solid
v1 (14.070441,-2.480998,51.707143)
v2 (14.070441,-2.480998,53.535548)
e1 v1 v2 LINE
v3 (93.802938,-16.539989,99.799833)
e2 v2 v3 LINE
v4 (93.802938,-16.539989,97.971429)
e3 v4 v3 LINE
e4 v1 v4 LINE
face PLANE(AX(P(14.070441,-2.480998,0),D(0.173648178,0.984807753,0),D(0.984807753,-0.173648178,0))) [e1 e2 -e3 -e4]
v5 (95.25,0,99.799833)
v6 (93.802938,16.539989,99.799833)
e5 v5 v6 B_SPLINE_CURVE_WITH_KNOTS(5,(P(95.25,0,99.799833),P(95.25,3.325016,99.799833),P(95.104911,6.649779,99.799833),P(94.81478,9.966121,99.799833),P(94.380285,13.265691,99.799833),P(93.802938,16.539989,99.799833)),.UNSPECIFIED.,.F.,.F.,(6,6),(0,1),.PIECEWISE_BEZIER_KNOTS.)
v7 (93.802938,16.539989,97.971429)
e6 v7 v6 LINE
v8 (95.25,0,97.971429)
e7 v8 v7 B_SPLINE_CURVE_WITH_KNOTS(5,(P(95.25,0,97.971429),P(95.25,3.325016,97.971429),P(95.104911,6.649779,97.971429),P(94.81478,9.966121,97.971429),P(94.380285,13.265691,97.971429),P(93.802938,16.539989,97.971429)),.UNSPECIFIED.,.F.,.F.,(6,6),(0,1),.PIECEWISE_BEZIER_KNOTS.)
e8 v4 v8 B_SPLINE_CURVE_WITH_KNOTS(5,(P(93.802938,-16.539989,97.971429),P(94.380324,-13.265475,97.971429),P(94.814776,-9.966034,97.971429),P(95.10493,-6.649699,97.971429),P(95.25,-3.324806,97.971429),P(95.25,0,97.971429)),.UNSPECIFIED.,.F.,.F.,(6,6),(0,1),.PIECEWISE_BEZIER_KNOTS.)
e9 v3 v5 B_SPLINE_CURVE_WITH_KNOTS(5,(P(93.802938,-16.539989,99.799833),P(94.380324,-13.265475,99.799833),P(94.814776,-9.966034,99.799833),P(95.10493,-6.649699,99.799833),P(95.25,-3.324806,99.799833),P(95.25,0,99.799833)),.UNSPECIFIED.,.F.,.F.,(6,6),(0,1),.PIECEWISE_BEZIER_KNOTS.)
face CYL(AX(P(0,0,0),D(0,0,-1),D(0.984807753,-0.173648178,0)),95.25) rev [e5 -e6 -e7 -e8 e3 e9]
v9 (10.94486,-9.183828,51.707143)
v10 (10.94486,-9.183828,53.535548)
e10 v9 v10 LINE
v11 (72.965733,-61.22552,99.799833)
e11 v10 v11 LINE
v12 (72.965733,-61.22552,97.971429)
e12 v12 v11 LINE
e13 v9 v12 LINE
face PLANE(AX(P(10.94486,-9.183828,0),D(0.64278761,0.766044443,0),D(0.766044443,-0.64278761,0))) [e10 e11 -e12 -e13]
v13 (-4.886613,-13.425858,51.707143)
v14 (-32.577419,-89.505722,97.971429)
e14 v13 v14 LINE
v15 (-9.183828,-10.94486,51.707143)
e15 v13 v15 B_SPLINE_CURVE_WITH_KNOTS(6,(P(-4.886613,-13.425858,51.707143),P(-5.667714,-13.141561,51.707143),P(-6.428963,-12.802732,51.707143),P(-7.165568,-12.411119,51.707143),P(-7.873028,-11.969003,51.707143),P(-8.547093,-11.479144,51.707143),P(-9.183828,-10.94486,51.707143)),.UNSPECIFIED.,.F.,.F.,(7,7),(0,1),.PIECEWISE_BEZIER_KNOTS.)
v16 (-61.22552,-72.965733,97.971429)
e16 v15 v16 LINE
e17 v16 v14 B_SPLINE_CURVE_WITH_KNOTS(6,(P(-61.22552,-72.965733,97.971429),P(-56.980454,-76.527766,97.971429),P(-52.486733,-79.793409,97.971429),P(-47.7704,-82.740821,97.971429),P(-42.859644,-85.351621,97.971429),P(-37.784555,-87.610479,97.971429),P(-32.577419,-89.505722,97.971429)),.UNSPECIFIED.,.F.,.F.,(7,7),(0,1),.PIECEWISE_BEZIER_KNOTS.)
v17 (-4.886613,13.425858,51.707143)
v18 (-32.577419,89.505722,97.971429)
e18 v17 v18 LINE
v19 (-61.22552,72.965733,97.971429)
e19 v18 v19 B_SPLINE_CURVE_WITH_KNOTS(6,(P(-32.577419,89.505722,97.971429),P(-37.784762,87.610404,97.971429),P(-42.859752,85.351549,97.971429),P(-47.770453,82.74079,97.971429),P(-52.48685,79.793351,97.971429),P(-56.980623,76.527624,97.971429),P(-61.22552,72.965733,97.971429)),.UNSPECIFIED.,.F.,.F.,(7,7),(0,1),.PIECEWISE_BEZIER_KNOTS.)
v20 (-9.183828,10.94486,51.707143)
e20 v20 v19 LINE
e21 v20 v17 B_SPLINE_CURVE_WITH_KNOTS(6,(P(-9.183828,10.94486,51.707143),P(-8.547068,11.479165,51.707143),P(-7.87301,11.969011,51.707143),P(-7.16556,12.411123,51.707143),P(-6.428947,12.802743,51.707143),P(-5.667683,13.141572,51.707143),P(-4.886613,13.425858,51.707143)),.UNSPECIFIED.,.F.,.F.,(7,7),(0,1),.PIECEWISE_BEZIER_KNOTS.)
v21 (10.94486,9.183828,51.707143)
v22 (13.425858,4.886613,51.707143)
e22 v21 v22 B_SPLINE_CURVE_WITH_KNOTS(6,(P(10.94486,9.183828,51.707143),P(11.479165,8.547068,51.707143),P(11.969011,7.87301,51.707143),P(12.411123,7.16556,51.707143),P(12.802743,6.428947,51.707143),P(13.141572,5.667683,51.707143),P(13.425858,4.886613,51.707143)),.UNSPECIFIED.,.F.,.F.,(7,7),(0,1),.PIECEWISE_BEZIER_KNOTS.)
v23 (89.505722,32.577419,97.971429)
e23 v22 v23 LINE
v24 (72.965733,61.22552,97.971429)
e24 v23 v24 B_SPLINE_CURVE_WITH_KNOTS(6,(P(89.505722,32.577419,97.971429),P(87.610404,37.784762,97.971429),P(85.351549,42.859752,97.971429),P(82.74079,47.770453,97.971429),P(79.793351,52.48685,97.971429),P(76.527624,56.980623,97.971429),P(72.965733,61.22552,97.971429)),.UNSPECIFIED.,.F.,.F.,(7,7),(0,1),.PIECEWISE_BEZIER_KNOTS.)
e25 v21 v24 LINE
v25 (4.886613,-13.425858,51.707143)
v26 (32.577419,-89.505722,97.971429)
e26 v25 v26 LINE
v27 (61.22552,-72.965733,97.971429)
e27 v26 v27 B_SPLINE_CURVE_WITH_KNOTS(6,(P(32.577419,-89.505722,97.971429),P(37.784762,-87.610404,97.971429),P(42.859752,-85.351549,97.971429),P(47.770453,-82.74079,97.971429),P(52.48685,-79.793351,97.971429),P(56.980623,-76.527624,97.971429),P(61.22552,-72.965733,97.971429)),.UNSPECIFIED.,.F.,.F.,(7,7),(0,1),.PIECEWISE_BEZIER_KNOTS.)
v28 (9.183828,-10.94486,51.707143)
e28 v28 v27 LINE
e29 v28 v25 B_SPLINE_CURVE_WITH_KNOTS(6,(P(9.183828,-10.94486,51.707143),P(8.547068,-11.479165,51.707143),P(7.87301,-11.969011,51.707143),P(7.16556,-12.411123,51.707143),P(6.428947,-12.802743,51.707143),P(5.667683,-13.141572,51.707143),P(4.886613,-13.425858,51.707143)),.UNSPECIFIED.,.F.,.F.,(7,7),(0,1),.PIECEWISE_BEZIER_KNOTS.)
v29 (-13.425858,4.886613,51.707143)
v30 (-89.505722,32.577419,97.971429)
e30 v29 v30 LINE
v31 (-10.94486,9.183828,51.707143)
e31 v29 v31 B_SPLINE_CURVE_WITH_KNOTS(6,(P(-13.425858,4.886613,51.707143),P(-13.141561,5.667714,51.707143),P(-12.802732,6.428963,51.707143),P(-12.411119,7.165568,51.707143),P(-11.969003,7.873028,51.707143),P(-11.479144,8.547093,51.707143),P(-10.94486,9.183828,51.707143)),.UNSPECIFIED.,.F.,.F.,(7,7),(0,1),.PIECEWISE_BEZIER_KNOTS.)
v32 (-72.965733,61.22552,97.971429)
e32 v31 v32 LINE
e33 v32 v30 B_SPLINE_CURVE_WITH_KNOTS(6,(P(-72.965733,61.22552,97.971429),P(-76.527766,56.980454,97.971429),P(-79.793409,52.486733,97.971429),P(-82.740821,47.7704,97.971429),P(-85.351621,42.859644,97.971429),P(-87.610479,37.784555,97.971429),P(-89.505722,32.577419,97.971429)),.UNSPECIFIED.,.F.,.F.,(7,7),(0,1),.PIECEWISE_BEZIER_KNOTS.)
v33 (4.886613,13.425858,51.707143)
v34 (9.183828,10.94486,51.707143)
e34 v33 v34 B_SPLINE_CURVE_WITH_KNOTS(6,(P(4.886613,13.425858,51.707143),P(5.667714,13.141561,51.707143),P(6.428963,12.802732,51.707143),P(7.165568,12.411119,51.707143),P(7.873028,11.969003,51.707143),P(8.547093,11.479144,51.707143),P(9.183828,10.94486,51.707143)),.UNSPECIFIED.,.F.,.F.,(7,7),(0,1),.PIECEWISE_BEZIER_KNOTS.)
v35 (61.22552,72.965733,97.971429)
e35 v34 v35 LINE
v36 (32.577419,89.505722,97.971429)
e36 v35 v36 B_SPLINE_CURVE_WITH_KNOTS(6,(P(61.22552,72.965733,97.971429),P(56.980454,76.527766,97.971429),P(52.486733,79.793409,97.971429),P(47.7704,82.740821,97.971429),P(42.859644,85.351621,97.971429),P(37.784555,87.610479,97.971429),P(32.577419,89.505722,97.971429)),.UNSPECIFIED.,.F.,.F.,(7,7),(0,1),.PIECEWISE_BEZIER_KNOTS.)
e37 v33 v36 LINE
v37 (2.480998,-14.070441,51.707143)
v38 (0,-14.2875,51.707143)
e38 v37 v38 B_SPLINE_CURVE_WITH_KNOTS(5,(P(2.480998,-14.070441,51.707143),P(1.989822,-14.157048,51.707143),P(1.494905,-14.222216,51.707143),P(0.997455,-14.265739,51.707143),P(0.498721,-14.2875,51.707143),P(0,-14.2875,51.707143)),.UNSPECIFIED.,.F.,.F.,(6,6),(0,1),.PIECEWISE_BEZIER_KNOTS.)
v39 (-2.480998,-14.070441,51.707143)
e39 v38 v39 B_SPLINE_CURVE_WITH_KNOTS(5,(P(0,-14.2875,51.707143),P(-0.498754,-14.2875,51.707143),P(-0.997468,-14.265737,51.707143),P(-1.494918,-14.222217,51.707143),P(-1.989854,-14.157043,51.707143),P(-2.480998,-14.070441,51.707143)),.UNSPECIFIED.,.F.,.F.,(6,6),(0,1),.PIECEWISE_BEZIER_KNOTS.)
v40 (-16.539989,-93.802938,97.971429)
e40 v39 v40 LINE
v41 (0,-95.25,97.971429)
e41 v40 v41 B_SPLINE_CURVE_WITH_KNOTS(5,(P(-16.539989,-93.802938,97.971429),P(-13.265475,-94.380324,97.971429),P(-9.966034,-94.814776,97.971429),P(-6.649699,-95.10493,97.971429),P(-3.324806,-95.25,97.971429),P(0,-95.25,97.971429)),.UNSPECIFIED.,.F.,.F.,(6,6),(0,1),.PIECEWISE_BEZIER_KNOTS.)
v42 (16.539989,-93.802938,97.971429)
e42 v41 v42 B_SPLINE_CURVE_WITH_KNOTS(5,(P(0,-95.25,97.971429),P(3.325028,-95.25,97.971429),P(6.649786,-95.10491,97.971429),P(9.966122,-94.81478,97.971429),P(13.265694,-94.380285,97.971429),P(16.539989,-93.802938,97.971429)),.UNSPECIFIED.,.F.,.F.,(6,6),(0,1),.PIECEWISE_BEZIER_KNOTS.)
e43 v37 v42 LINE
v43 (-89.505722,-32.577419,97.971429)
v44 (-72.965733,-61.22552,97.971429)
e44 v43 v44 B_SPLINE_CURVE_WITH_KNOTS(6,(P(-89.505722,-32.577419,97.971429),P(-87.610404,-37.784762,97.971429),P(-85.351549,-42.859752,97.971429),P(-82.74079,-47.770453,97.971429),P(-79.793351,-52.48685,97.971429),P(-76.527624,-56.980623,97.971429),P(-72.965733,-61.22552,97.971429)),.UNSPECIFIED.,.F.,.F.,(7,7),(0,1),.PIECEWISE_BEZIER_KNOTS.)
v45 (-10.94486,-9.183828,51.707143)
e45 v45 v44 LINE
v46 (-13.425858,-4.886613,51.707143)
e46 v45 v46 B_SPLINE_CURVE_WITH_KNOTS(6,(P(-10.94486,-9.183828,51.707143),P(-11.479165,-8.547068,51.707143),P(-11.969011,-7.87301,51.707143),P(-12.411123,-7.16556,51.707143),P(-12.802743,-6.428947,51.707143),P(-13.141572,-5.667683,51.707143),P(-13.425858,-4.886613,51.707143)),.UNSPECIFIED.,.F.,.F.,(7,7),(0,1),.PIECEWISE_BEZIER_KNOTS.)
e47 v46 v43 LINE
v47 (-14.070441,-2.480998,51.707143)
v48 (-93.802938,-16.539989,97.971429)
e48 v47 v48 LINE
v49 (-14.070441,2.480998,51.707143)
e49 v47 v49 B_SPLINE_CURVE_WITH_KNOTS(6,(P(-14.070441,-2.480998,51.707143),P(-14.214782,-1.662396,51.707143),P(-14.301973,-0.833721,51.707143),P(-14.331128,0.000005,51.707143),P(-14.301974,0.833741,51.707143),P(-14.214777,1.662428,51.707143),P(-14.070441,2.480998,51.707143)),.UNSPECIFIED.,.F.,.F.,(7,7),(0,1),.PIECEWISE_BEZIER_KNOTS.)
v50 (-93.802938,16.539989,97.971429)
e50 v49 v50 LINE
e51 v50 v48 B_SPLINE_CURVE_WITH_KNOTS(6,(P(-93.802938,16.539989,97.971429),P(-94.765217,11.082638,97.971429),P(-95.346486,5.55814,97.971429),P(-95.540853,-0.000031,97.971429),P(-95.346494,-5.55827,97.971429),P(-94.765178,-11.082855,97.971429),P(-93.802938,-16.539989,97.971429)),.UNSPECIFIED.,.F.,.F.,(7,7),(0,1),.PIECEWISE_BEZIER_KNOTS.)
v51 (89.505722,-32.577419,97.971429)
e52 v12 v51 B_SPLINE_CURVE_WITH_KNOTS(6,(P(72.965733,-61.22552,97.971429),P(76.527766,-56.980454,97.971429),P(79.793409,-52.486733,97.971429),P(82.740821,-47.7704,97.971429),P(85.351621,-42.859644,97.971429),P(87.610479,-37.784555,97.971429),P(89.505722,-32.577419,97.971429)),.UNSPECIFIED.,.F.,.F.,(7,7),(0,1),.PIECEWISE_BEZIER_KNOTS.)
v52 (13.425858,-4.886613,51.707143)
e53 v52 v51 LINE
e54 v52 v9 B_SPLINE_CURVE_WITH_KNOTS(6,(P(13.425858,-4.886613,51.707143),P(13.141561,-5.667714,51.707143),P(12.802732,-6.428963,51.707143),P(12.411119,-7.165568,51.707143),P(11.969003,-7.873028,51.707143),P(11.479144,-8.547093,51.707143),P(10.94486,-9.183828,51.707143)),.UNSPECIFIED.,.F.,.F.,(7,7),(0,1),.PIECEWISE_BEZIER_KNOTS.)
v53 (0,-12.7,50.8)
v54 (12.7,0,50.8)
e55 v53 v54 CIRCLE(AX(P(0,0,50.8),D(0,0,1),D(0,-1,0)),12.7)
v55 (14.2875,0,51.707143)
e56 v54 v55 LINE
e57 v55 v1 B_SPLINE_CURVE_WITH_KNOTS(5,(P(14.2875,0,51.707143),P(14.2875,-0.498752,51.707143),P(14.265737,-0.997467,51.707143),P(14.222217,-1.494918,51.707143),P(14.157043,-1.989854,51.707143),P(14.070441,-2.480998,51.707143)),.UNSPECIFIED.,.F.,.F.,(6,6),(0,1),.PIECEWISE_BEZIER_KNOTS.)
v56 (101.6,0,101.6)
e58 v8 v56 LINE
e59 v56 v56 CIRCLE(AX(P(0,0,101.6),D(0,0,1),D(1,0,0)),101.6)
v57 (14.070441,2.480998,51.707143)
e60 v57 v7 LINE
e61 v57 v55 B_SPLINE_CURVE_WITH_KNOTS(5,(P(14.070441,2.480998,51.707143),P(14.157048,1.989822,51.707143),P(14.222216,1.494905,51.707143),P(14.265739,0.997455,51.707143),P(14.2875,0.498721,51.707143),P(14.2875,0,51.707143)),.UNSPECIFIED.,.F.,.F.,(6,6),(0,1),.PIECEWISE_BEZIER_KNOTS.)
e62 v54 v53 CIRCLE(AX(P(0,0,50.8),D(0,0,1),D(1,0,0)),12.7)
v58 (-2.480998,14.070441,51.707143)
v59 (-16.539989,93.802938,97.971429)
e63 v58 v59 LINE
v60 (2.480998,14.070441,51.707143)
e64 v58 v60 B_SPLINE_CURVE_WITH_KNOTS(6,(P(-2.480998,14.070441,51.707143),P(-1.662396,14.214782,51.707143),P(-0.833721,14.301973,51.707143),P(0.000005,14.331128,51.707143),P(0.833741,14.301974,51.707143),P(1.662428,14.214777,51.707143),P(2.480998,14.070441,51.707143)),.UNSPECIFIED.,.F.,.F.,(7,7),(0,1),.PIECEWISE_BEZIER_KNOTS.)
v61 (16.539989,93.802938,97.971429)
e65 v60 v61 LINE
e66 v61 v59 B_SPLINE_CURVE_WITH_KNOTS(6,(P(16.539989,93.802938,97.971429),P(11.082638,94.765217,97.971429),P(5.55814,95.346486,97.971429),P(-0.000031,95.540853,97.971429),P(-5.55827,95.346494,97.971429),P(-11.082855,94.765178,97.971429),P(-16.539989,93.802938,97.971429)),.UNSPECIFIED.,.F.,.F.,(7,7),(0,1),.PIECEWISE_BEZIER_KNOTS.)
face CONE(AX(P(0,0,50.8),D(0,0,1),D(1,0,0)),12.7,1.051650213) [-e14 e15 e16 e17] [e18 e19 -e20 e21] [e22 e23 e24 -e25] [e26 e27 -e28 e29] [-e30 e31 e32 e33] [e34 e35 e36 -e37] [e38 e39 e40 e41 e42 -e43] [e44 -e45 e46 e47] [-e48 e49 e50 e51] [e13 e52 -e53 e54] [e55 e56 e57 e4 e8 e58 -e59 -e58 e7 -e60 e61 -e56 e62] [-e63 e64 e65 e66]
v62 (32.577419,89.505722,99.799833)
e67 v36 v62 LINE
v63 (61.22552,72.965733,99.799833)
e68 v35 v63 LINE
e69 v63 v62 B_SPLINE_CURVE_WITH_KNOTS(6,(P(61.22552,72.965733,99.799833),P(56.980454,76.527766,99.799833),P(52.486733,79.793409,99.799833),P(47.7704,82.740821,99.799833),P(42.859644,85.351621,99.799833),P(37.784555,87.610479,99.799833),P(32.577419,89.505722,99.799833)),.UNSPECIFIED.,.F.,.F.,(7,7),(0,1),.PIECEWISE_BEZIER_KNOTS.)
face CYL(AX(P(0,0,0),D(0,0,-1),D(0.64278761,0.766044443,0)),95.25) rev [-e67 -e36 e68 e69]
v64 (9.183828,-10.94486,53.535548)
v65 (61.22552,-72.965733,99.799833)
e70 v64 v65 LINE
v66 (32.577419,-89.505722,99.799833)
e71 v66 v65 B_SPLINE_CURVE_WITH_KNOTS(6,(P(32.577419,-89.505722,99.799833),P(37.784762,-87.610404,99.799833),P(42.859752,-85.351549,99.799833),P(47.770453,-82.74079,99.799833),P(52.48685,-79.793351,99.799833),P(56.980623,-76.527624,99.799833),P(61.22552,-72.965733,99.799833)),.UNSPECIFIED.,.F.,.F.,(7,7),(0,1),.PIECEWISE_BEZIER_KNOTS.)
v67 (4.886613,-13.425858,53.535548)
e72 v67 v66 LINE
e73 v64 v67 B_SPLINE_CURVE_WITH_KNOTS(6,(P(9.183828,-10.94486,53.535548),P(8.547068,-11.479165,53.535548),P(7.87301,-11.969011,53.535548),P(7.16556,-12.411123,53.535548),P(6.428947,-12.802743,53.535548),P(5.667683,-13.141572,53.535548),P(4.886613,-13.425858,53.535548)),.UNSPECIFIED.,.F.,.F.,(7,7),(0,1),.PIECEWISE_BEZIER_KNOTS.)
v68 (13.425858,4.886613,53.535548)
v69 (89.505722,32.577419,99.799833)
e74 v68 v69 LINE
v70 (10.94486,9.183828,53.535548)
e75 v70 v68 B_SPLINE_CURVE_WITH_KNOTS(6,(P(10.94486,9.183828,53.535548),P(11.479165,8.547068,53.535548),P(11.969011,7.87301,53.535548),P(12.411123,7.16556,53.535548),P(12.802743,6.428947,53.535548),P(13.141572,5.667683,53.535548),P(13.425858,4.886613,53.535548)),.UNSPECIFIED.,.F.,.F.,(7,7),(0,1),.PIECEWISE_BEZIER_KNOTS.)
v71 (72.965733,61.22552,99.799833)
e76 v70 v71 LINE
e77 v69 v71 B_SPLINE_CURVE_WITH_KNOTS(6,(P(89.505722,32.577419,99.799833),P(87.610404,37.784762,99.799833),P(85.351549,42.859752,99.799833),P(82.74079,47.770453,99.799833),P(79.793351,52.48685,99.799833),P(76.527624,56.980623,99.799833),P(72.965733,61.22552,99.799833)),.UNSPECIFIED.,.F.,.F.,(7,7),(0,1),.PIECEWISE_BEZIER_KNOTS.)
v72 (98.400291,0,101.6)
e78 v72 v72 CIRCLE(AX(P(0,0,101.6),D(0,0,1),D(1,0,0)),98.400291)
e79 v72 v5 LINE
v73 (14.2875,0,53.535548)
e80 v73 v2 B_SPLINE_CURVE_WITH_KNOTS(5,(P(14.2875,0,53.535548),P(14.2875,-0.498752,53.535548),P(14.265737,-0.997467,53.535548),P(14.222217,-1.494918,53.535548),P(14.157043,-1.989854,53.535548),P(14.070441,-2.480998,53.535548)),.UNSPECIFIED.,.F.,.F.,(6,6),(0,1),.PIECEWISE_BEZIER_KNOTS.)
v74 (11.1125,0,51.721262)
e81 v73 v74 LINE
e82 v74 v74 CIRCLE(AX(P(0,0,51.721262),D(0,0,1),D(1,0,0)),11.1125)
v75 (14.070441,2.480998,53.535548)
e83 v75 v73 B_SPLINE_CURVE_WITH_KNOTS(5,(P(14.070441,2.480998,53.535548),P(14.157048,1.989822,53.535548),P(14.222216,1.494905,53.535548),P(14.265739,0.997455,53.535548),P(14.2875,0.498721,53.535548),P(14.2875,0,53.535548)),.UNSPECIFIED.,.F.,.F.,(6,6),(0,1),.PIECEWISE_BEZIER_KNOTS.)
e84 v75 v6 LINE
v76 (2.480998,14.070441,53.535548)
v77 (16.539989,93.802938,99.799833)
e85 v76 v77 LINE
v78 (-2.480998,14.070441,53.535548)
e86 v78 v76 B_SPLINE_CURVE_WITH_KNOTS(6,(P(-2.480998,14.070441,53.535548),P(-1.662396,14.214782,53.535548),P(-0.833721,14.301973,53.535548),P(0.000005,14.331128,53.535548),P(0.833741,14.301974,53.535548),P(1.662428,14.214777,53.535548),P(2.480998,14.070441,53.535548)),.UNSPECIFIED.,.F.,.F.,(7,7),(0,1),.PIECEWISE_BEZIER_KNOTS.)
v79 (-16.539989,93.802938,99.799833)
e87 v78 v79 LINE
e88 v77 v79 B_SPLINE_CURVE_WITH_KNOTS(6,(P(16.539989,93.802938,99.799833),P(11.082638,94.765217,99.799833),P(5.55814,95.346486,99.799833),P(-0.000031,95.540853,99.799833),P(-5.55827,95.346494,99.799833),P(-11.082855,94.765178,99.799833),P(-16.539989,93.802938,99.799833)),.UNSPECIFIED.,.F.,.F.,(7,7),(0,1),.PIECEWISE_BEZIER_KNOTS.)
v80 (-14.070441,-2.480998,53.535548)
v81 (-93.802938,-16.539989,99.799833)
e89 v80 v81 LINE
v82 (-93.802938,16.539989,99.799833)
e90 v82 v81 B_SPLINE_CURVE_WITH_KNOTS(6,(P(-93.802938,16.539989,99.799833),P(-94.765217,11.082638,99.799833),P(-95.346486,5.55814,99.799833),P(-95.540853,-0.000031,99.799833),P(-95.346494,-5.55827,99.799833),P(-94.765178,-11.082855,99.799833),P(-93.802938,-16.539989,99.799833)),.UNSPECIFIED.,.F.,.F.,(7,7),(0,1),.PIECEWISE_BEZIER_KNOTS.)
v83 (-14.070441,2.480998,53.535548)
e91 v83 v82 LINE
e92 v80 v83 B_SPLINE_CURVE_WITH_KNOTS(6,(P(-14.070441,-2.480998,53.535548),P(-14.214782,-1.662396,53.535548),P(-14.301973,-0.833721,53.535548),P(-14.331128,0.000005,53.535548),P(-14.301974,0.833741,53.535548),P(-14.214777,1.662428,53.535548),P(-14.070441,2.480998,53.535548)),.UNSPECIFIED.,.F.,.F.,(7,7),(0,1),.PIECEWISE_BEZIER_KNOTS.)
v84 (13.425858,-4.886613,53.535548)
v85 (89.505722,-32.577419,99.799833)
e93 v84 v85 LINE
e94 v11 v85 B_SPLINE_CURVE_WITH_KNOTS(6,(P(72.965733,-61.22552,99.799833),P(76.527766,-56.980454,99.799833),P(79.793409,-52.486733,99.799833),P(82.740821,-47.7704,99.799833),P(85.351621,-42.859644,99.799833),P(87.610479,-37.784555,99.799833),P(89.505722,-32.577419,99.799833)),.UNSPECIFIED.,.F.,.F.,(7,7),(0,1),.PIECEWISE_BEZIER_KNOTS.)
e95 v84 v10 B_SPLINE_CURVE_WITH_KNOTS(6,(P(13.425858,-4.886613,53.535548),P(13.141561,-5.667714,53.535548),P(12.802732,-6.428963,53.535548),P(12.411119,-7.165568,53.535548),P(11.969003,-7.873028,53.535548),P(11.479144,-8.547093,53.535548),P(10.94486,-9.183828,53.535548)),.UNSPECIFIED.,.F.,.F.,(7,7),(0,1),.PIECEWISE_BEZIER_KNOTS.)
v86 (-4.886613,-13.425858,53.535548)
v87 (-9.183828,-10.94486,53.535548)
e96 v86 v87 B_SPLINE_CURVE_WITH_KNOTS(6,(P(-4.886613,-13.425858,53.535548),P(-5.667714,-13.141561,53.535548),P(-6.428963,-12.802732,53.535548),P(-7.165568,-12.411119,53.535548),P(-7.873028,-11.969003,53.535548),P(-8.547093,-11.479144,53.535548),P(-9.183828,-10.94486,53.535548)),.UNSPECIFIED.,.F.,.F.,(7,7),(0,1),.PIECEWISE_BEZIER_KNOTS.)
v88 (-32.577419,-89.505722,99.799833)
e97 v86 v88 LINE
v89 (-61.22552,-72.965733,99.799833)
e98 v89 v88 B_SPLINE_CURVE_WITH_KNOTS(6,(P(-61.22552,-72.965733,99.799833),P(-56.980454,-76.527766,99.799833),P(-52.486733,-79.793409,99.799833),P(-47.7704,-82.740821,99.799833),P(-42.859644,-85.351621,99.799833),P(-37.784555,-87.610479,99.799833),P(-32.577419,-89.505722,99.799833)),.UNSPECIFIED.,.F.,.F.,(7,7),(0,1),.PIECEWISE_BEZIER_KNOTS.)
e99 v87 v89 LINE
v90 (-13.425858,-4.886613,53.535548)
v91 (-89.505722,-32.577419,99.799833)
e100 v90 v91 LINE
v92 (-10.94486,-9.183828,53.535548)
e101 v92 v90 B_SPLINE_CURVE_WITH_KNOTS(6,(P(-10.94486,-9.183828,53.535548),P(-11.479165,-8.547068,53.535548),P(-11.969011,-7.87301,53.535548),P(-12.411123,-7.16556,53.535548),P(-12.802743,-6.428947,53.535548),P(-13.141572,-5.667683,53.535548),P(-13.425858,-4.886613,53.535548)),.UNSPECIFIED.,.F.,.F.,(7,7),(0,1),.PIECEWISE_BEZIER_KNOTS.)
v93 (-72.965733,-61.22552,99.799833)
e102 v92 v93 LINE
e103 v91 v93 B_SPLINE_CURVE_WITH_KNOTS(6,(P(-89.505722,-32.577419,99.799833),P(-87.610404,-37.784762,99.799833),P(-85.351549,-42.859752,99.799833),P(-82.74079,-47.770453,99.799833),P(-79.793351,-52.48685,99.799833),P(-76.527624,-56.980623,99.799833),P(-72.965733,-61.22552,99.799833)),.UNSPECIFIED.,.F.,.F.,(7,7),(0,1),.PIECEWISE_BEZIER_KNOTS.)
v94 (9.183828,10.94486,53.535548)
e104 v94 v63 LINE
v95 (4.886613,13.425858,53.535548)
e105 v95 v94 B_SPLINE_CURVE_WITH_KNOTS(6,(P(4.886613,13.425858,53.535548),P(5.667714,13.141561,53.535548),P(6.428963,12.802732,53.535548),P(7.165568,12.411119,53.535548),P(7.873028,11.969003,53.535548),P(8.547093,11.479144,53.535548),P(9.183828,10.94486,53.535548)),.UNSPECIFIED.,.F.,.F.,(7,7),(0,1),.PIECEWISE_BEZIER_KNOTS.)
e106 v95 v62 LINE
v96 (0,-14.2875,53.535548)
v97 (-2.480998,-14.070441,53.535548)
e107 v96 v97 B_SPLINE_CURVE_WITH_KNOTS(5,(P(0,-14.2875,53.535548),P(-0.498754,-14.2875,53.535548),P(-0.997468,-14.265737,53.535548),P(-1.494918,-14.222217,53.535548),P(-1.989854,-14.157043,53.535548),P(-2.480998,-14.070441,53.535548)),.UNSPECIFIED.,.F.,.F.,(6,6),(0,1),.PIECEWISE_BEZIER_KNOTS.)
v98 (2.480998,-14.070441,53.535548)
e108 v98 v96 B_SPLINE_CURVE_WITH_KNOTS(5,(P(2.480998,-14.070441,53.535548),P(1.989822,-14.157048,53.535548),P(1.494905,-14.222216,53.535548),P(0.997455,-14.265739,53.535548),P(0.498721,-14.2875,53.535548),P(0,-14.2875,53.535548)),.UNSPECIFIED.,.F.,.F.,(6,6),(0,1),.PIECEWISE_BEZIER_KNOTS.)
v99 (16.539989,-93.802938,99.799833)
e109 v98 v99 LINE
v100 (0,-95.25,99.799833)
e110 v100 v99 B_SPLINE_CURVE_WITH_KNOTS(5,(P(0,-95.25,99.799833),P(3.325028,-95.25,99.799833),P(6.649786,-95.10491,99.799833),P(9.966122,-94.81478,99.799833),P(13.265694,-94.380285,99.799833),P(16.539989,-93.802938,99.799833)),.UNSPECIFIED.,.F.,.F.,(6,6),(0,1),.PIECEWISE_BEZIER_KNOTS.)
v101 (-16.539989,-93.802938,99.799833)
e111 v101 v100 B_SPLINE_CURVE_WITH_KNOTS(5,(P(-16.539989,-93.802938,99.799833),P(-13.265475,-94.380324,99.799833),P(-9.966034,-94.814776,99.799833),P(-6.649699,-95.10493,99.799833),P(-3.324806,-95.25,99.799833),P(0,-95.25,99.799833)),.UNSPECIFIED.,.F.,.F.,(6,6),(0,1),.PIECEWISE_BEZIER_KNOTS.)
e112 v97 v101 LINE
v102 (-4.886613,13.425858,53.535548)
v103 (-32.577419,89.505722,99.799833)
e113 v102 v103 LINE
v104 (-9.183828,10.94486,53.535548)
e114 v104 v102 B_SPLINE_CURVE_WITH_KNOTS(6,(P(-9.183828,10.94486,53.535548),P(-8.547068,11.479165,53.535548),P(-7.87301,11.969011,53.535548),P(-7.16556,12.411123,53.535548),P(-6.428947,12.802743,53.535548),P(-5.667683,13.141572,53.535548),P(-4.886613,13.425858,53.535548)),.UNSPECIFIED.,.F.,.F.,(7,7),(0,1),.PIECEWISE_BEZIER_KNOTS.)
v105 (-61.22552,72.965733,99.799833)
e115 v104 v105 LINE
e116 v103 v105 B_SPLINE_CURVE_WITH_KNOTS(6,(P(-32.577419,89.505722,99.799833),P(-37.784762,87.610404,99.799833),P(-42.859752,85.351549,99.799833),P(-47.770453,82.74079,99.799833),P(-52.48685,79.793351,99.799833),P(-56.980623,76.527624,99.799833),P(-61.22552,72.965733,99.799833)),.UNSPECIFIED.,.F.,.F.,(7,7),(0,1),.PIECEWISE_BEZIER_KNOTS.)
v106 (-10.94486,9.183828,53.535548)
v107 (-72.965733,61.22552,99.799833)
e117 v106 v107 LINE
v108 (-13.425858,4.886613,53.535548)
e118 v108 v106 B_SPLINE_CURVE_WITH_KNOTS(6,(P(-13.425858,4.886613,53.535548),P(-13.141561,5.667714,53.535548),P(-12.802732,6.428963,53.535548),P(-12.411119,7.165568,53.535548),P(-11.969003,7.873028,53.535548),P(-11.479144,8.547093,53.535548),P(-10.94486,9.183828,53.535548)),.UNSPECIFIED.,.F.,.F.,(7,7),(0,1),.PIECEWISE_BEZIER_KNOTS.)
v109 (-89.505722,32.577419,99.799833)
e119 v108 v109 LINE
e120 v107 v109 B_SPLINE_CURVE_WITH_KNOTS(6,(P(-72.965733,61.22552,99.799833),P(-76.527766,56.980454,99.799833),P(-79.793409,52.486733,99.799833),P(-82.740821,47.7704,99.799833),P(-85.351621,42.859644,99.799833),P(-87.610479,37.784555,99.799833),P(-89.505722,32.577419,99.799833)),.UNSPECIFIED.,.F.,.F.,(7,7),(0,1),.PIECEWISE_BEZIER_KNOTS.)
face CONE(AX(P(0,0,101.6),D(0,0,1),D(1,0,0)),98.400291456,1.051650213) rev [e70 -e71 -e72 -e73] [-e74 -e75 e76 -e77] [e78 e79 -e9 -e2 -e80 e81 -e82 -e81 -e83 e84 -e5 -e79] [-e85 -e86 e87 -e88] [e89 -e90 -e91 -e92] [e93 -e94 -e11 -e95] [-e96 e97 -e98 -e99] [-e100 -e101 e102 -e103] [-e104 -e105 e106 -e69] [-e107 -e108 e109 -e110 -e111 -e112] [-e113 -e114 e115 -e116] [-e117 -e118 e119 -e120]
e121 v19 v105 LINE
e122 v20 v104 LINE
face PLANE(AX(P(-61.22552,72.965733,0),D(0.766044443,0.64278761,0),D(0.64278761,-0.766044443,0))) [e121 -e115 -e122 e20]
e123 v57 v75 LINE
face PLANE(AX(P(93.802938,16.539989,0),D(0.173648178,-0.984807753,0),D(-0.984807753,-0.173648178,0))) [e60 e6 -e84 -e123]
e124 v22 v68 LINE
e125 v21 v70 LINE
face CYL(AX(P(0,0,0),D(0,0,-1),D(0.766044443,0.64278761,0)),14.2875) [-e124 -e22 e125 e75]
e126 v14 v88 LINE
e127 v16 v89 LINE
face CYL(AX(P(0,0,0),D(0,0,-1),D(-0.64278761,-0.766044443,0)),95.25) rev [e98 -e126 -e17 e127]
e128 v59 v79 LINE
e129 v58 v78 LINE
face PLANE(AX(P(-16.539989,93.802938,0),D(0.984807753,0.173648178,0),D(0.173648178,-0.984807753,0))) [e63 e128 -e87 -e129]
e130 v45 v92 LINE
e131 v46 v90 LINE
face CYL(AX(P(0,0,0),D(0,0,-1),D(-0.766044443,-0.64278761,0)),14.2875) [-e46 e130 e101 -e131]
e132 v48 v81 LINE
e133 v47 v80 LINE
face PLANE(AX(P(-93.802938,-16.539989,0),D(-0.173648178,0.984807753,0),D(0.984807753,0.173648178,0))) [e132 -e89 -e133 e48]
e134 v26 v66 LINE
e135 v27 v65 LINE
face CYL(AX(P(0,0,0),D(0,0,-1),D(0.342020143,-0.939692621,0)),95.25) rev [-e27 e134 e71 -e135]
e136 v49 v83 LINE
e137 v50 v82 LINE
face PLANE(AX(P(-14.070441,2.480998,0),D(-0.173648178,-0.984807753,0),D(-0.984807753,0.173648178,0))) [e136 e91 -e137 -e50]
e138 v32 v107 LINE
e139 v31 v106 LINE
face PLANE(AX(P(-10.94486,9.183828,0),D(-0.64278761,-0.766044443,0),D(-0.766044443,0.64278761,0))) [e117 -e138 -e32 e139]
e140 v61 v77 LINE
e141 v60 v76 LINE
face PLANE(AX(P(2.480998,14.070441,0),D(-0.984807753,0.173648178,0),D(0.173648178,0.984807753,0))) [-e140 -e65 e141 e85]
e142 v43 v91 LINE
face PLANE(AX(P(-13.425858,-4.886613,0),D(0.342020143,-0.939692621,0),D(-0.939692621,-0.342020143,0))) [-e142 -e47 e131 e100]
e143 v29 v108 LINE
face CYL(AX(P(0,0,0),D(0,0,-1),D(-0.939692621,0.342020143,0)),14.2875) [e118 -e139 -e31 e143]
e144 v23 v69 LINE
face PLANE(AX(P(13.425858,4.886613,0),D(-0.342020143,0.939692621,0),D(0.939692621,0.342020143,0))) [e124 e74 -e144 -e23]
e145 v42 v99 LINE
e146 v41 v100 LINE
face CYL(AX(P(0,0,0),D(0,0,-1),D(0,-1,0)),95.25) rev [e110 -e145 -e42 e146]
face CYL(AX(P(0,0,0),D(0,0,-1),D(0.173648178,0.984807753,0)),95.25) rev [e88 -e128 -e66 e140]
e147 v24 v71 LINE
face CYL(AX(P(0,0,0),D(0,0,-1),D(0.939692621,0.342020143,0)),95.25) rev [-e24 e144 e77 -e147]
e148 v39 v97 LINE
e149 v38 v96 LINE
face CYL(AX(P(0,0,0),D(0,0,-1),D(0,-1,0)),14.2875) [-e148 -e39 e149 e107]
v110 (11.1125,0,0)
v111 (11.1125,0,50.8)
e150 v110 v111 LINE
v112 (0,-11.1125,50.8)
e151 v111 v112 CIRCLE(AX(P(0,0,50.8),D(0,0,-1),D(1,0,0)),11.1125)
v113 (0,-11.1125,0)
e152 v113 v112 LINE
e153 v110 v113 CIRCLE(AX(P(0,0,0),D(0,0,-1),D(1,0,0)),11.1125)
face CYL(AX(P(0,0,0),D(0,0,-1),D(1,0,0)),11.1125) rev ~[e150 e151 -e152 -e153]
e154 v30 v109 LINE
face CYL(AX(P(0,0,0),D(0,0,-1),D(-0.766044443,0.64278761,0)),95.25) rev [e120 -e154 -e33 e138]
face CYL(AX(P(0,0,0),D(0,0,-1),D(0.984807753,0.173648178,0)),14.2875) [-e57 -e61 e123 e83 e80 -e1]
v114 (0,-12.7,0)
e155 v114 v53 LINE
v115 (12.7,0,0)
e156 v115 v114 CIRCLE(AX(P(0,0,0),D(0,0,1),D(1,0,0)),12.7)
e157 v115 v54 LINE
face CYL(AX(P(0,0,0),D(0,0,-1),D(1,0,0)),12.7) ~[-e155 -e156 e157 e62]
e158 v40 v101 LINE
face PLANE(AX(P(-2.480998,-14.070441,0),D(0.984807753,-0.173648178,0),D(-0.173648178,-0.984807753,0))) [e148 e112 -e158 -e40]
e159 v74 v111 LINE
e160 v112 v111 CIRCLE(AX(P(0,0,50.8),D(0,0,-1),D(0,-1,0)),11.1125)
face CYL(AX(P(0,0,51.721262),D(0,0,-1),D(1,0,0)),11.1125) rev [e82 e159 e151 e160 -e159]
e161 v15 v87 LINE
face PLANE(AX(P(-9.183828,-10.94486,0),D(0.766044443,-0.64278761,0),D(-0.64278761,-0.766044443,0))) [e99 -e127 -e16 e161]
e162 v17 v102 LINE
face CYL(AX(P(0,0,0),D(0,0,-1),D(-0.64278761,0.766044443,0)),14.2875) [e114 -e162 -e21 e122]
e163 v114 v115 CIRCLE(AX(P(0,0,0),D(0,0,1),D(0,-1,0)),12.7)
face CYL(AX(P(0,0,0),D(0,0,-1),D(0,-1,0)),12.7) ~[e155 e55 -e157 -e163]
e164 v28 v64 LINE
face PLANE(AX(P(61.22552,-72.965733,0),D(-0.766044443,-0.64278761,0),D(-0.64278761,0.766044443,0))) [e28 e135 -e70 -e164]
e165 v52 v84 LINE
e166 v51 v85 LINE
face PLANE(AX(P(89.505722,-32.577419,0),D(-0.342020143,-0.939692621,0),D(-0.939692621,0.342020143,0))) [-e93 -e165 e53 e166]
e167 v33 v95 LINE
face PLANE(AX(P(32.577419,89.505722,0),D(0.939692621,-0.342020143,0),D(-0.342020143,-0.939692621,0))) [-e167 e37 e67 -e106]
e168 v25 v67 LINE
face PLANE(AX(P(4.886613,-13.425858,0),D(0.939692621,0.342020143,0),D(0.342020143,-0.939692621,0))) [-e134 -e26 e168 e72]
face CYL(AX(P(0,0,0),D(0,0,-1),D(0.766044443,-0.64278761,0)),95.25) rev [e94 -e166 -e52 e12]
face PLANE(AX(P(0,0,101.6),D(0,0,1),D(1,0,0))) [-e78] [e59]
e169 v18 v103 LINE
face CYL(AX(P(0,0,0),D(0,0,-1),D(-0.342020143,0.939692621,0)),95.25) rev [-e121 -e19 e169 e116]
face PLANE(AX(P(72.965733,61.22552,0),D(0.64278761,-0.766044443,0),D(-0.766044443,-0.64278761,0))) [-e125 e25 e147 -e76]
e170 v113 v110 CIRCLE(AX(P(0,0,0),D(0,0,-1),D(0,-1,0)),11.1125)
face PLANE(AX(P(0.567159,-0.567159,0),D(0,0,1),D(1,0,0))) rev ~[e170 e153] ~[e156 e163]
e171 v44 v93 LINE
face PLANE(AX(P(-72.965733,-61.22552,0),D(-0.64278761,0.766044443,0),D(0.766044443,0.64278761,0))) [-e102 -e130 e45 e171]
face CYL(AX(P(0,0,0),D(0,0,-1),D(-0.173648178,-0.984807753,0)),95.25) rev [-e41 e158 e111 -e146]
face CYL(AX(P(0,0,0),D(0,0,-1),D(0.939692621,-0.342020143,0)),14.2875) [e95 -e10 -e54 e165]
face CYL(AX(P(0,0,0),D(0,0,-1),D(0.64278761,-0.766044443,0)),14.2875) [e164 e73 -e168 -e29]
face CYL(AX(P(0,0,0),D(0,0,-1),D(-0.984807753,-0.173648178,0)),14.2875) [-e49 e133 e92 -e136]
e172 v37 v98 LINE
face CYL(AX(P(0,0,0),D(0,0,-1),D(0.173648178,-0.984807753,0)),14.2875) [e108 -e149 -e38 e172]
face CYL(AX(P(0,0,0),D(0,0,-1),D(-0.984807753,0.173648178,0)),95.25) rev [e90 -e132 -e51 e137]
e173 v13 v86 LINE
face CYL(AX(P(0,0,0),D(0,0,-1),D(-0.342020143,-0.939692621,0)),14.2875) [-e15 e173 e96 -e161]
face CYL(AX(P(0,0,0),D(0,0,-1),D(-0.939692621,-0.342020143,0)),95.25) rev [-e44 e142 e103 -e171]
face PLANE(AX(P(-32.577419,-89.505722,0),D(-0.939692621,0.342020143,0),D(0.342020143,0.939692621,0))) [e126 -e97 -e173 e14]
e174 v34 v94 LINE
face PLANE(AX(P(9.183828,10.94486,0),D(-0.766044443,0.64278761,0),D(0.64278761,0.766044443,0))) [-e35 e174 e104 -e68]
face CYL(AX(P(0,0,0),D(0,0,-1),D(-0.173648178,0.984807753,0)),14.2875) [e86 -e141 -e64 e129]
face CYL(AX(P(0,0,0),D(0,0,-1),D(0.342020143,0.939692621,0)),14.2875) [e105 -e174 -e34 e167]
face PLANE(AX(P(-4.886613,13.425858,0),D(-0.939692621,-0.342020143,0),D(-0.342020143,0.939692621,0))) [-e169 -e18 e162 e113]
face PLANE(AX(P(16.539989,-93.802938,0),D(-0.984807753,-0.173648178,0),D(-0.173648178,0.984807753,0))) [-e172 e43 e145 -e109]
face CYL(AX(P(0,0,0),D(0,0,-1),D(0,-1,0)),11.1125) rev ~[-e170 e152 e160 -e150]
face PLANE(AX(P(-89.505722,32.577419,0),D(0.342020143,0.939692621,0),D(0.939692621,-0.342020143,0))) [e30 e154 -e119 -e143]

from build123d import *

# Parameters (mm, degrees)
F1_DEPTH = 50.8
F4_DEPTH = 152.4


with BuildPart() as f1:
    # F0 (on Top) → F1 (new body)
    with BuildSketch(Plane.XY):
        with BuildLine():
            ThreePointArc((12.7, 0), (-8.9802561211, 8.9802561211), (0, -12.7))
            ThreePointArc((0, -12.7), (8.9802561211, -8.9802561211), (12.7, 0))
        make_face()
        with BuildLine():
            ThreePointArc((0, -11.1125), (-7.8577241059, 7.8577241059), (11.1125, 0))
            ThreePointArc((11.1125, 0), (7.8577241059, -7.8577241059), (0, -11.1125))
        make_face(mode=Mode.SUBTRACT)
    extrude(amount=F1_DEPTH)

    # F2 (on Front) → F3 (revolve)
    with BuildSketch(Plane.XZ):
        Polygon((11.1125, 51.7212620251), (11.1125, 50.8), (12.7, 50.8), (101.6, 101.6), (98.4002914561, 101.6), align=None)
    revolve(axis=Axis((0, 0, 76.2), (0, 0, 1)))

    # F0 (on Top) → F4 (cut)
    with BuildSketch(Plane.XY):
        with BuildLine():
            Line((72.9657332071, 61.2255198226), (10.9448599811, 9.1838279734))
            ThreePointArc((10.9448599811, 9.1838279734), (12.3733379566, 7.14375), (13.4258583195, 4.8866127978))
            Line((13.4258583195, 4.8866127978), (89.5057221299, 32.5774186518))
            ThreePointArc((89.5057221299, 32.5774186518), (82.4889197105, 47.625), (72.9657332071, 61.2255198226))
        make_face()
        with BuildLine():
            Line((93.8029384744, 16.5399889228), (14.0704407712, 2.4809983384))
            ThreePointArc((14.0704407712, 2.4809983384), (14.2875, 0), (14.0704407712, -2.4809983384))
            Line((14.0704407712, -2.4809983384), (93.8029384744, -16.5399889228))
            ThreePointArc((93.8029384744, -16.5399889228), (95.25, 0), (93.8029384744, 16.5399889228))
        make_face()
        with BuildLine():
            Line((32.5774186518, 89.5057221299), (4.8866127978, 13.4258583195))
            ThreePointArc((4.8866127978, 13.4258583195), (7.14375, 12.3733379566), (9.1838279734, 10.9448599811))
            Line((9.1838279734, 10.9448599811), (61.2255198226, 72.9657332071))
            ThreePointArc((61.2255198226, 72.9657332071), (47.625, 82.4889197105), (32.5774186518, 89.5057221299))
        make_face()
        with BuildLine():
            Line((0, -95.25), (0, -14.2875))
            ThreePointArc((0, -14.2875), (-1.2452376745, -14.233131749), (-2.4809983384, -14.0704407712))
            Line((-2.4809983384, -14.0704407712), (-16.5399889228, -93.8029384744))
            ThreePointArc((-16.5399889228, -93.8029384744), (-8.3015844967, -94.8875449932), (0, -95.25))
        make_face()
        with BuildLine():
            ThreePointArc((2.4809983384, -14.0704407712), (1.2452376745, -14.233131749), (0, -14.2875))
            Line((0, -14.2875), (0, -95.25))
            ThreePointArc((0, -95.25), (8.3015844967, -94.8875449932), (16.5399889228, -93.8029384744))
            Line((16.5399889228, -93.8029384744), (2.4809983384, -14.0704407712))
        make_face()
        with BuildLine():
            Line((61.2255198226, -72.9657332071), (9.1838279734, -10.9448599811))
            ThreePointArc((9.1838279734, -10.9448599811), (7.14375, -12.3733379566), (4.8866127978, -13.4258583195))
            Line((4.8866127978, -13.4258583195), (32.5774186518, -89.5057221299))
            ThreePointArc((32.5774186518, -89.5057221299), (47.625, -82.4889197105), (61.2255198226, -72.9657332071))
        make_face()
        with BuildLine():
            Line((89.5057221299, -32.5774186518), (13.4258583195, -4.8866127978))
            ThreePointArc((13.4258583195, -4.8866127978), (12.3733379566, -7.14375), (10.9448599811, -9.1838279734))
            Line((10.9448599811, -9.1838279734), (72.9657332071, -61.2255198226))
            ThreePointArc((72.9657332071, -61.2255198226), (82.4889197105, -47.625), (89.5057221299, -32.5774186518))
        make_face()
        with BuildLine():
            Line((-32.5774186518, -89.5057221299), (-4.8866127978, -13.4258583195))
            ThreePointArc((-4.8866127978, -13.4258583195), (-7.14375, -12.3733379566), (-9.1838279734, -10.9448599811))
            Line((-9.1838279734, -10.9448599811), (-61.2255198226, -72.9657332071))
            ThreePointArc((-61.2255198226, -72.9657332071), (-47.625, -82.4889197105), (-32.5774186518, -89.5057221299))
        make_face()
        with BuildLine():
            Line((-72.9657332071, -61.2255198226), (-10.9448599811, -9.1838279734))
            ThreePointArc((-10.9448599811, -9.1838279734), (-12.3733379566, -7.14375), (-13.4258583195, -4.8866127978))
            Line((-13.4258583195, -4.8866127978), (-89.5057221299, -32.5774186518))
            ThreePointArc((-89.5057221299, -32.5774186518), (-82.4889197105, -47.625), (-72.9657332071, -61.2255198226))
        make_face()
        with BuildLine():
            Line((-93.8029384744, -16.5399889228), (-14.0704407712, -2.4809983384))
            ThreePointArc((-14.0704407712, -2.4809983384), (-14.2875, 0), (-14.0704407712, 2.4809983384))
            Line((-14.0704407712, 2.4809983384), (-93.8029384744, 16.5399889228))
            ThreePointArc((-93.8029384744, 16.5399889228), (-95.25, 0), (-93.8029384744, -16.5399889228))
        make_face()
        with BuildLine():
            Line((-89.5057221299, 32.5774186518), (-13.4258583195, 4.8866127978))
            ThreePointArc((-13.4258583195, 4.8866127978), (-12.3733379566, 7.14375), (-10.9448599811, 9.1838279734))
            Line((-10.9448599811, 9.1838279734), (-72.9657332071, 61.2255198226))
            ThreePointArc((-72.9657332071, 61.2255198226), (-82.4889197105, 47.625), (-89.5057221299, 32.5774186518))
        make_face()
        with BuildLine():
            Line((-16.5399889228, 93.8029384744), (-2.4809983384, 14.0704407712))
            ThreePointArc((-2.4809983384, 14.0704407712), (0, 14.2875), (2.4809983384, 14.0704407712))
            Line((2.4809983384, 14.0704407712), (16.5399889228, 93.8029384744))
            ThreePointArc((16.5399889228, 93.8029384744), (0, 95.25), (-16.5399889228, 93.8029384744))
        make_face()
        with BuildLine():
            Line((-61.2255198226, 72.9657332071), (-9.1838279734, 10.9448599811))
            ThreePointArc((-9.1838279734, 10.9448599811), (-7.14375, 12.3733379566), (-4.8866127978, 13.4258583195))
            Line((-4.8866127978, 13.4258583195), (-32.5774186518, 89.5057221299))
            ThreePointArc((-32.5774186518, 89.5057221299), (-47.625, 82.4889197105), (-61.2255198226, 72.9657332071))
        make_face()
    extrude(amount=F4_DEPTH, mode=Mode.SUBTRACT)


solid = f1.part
